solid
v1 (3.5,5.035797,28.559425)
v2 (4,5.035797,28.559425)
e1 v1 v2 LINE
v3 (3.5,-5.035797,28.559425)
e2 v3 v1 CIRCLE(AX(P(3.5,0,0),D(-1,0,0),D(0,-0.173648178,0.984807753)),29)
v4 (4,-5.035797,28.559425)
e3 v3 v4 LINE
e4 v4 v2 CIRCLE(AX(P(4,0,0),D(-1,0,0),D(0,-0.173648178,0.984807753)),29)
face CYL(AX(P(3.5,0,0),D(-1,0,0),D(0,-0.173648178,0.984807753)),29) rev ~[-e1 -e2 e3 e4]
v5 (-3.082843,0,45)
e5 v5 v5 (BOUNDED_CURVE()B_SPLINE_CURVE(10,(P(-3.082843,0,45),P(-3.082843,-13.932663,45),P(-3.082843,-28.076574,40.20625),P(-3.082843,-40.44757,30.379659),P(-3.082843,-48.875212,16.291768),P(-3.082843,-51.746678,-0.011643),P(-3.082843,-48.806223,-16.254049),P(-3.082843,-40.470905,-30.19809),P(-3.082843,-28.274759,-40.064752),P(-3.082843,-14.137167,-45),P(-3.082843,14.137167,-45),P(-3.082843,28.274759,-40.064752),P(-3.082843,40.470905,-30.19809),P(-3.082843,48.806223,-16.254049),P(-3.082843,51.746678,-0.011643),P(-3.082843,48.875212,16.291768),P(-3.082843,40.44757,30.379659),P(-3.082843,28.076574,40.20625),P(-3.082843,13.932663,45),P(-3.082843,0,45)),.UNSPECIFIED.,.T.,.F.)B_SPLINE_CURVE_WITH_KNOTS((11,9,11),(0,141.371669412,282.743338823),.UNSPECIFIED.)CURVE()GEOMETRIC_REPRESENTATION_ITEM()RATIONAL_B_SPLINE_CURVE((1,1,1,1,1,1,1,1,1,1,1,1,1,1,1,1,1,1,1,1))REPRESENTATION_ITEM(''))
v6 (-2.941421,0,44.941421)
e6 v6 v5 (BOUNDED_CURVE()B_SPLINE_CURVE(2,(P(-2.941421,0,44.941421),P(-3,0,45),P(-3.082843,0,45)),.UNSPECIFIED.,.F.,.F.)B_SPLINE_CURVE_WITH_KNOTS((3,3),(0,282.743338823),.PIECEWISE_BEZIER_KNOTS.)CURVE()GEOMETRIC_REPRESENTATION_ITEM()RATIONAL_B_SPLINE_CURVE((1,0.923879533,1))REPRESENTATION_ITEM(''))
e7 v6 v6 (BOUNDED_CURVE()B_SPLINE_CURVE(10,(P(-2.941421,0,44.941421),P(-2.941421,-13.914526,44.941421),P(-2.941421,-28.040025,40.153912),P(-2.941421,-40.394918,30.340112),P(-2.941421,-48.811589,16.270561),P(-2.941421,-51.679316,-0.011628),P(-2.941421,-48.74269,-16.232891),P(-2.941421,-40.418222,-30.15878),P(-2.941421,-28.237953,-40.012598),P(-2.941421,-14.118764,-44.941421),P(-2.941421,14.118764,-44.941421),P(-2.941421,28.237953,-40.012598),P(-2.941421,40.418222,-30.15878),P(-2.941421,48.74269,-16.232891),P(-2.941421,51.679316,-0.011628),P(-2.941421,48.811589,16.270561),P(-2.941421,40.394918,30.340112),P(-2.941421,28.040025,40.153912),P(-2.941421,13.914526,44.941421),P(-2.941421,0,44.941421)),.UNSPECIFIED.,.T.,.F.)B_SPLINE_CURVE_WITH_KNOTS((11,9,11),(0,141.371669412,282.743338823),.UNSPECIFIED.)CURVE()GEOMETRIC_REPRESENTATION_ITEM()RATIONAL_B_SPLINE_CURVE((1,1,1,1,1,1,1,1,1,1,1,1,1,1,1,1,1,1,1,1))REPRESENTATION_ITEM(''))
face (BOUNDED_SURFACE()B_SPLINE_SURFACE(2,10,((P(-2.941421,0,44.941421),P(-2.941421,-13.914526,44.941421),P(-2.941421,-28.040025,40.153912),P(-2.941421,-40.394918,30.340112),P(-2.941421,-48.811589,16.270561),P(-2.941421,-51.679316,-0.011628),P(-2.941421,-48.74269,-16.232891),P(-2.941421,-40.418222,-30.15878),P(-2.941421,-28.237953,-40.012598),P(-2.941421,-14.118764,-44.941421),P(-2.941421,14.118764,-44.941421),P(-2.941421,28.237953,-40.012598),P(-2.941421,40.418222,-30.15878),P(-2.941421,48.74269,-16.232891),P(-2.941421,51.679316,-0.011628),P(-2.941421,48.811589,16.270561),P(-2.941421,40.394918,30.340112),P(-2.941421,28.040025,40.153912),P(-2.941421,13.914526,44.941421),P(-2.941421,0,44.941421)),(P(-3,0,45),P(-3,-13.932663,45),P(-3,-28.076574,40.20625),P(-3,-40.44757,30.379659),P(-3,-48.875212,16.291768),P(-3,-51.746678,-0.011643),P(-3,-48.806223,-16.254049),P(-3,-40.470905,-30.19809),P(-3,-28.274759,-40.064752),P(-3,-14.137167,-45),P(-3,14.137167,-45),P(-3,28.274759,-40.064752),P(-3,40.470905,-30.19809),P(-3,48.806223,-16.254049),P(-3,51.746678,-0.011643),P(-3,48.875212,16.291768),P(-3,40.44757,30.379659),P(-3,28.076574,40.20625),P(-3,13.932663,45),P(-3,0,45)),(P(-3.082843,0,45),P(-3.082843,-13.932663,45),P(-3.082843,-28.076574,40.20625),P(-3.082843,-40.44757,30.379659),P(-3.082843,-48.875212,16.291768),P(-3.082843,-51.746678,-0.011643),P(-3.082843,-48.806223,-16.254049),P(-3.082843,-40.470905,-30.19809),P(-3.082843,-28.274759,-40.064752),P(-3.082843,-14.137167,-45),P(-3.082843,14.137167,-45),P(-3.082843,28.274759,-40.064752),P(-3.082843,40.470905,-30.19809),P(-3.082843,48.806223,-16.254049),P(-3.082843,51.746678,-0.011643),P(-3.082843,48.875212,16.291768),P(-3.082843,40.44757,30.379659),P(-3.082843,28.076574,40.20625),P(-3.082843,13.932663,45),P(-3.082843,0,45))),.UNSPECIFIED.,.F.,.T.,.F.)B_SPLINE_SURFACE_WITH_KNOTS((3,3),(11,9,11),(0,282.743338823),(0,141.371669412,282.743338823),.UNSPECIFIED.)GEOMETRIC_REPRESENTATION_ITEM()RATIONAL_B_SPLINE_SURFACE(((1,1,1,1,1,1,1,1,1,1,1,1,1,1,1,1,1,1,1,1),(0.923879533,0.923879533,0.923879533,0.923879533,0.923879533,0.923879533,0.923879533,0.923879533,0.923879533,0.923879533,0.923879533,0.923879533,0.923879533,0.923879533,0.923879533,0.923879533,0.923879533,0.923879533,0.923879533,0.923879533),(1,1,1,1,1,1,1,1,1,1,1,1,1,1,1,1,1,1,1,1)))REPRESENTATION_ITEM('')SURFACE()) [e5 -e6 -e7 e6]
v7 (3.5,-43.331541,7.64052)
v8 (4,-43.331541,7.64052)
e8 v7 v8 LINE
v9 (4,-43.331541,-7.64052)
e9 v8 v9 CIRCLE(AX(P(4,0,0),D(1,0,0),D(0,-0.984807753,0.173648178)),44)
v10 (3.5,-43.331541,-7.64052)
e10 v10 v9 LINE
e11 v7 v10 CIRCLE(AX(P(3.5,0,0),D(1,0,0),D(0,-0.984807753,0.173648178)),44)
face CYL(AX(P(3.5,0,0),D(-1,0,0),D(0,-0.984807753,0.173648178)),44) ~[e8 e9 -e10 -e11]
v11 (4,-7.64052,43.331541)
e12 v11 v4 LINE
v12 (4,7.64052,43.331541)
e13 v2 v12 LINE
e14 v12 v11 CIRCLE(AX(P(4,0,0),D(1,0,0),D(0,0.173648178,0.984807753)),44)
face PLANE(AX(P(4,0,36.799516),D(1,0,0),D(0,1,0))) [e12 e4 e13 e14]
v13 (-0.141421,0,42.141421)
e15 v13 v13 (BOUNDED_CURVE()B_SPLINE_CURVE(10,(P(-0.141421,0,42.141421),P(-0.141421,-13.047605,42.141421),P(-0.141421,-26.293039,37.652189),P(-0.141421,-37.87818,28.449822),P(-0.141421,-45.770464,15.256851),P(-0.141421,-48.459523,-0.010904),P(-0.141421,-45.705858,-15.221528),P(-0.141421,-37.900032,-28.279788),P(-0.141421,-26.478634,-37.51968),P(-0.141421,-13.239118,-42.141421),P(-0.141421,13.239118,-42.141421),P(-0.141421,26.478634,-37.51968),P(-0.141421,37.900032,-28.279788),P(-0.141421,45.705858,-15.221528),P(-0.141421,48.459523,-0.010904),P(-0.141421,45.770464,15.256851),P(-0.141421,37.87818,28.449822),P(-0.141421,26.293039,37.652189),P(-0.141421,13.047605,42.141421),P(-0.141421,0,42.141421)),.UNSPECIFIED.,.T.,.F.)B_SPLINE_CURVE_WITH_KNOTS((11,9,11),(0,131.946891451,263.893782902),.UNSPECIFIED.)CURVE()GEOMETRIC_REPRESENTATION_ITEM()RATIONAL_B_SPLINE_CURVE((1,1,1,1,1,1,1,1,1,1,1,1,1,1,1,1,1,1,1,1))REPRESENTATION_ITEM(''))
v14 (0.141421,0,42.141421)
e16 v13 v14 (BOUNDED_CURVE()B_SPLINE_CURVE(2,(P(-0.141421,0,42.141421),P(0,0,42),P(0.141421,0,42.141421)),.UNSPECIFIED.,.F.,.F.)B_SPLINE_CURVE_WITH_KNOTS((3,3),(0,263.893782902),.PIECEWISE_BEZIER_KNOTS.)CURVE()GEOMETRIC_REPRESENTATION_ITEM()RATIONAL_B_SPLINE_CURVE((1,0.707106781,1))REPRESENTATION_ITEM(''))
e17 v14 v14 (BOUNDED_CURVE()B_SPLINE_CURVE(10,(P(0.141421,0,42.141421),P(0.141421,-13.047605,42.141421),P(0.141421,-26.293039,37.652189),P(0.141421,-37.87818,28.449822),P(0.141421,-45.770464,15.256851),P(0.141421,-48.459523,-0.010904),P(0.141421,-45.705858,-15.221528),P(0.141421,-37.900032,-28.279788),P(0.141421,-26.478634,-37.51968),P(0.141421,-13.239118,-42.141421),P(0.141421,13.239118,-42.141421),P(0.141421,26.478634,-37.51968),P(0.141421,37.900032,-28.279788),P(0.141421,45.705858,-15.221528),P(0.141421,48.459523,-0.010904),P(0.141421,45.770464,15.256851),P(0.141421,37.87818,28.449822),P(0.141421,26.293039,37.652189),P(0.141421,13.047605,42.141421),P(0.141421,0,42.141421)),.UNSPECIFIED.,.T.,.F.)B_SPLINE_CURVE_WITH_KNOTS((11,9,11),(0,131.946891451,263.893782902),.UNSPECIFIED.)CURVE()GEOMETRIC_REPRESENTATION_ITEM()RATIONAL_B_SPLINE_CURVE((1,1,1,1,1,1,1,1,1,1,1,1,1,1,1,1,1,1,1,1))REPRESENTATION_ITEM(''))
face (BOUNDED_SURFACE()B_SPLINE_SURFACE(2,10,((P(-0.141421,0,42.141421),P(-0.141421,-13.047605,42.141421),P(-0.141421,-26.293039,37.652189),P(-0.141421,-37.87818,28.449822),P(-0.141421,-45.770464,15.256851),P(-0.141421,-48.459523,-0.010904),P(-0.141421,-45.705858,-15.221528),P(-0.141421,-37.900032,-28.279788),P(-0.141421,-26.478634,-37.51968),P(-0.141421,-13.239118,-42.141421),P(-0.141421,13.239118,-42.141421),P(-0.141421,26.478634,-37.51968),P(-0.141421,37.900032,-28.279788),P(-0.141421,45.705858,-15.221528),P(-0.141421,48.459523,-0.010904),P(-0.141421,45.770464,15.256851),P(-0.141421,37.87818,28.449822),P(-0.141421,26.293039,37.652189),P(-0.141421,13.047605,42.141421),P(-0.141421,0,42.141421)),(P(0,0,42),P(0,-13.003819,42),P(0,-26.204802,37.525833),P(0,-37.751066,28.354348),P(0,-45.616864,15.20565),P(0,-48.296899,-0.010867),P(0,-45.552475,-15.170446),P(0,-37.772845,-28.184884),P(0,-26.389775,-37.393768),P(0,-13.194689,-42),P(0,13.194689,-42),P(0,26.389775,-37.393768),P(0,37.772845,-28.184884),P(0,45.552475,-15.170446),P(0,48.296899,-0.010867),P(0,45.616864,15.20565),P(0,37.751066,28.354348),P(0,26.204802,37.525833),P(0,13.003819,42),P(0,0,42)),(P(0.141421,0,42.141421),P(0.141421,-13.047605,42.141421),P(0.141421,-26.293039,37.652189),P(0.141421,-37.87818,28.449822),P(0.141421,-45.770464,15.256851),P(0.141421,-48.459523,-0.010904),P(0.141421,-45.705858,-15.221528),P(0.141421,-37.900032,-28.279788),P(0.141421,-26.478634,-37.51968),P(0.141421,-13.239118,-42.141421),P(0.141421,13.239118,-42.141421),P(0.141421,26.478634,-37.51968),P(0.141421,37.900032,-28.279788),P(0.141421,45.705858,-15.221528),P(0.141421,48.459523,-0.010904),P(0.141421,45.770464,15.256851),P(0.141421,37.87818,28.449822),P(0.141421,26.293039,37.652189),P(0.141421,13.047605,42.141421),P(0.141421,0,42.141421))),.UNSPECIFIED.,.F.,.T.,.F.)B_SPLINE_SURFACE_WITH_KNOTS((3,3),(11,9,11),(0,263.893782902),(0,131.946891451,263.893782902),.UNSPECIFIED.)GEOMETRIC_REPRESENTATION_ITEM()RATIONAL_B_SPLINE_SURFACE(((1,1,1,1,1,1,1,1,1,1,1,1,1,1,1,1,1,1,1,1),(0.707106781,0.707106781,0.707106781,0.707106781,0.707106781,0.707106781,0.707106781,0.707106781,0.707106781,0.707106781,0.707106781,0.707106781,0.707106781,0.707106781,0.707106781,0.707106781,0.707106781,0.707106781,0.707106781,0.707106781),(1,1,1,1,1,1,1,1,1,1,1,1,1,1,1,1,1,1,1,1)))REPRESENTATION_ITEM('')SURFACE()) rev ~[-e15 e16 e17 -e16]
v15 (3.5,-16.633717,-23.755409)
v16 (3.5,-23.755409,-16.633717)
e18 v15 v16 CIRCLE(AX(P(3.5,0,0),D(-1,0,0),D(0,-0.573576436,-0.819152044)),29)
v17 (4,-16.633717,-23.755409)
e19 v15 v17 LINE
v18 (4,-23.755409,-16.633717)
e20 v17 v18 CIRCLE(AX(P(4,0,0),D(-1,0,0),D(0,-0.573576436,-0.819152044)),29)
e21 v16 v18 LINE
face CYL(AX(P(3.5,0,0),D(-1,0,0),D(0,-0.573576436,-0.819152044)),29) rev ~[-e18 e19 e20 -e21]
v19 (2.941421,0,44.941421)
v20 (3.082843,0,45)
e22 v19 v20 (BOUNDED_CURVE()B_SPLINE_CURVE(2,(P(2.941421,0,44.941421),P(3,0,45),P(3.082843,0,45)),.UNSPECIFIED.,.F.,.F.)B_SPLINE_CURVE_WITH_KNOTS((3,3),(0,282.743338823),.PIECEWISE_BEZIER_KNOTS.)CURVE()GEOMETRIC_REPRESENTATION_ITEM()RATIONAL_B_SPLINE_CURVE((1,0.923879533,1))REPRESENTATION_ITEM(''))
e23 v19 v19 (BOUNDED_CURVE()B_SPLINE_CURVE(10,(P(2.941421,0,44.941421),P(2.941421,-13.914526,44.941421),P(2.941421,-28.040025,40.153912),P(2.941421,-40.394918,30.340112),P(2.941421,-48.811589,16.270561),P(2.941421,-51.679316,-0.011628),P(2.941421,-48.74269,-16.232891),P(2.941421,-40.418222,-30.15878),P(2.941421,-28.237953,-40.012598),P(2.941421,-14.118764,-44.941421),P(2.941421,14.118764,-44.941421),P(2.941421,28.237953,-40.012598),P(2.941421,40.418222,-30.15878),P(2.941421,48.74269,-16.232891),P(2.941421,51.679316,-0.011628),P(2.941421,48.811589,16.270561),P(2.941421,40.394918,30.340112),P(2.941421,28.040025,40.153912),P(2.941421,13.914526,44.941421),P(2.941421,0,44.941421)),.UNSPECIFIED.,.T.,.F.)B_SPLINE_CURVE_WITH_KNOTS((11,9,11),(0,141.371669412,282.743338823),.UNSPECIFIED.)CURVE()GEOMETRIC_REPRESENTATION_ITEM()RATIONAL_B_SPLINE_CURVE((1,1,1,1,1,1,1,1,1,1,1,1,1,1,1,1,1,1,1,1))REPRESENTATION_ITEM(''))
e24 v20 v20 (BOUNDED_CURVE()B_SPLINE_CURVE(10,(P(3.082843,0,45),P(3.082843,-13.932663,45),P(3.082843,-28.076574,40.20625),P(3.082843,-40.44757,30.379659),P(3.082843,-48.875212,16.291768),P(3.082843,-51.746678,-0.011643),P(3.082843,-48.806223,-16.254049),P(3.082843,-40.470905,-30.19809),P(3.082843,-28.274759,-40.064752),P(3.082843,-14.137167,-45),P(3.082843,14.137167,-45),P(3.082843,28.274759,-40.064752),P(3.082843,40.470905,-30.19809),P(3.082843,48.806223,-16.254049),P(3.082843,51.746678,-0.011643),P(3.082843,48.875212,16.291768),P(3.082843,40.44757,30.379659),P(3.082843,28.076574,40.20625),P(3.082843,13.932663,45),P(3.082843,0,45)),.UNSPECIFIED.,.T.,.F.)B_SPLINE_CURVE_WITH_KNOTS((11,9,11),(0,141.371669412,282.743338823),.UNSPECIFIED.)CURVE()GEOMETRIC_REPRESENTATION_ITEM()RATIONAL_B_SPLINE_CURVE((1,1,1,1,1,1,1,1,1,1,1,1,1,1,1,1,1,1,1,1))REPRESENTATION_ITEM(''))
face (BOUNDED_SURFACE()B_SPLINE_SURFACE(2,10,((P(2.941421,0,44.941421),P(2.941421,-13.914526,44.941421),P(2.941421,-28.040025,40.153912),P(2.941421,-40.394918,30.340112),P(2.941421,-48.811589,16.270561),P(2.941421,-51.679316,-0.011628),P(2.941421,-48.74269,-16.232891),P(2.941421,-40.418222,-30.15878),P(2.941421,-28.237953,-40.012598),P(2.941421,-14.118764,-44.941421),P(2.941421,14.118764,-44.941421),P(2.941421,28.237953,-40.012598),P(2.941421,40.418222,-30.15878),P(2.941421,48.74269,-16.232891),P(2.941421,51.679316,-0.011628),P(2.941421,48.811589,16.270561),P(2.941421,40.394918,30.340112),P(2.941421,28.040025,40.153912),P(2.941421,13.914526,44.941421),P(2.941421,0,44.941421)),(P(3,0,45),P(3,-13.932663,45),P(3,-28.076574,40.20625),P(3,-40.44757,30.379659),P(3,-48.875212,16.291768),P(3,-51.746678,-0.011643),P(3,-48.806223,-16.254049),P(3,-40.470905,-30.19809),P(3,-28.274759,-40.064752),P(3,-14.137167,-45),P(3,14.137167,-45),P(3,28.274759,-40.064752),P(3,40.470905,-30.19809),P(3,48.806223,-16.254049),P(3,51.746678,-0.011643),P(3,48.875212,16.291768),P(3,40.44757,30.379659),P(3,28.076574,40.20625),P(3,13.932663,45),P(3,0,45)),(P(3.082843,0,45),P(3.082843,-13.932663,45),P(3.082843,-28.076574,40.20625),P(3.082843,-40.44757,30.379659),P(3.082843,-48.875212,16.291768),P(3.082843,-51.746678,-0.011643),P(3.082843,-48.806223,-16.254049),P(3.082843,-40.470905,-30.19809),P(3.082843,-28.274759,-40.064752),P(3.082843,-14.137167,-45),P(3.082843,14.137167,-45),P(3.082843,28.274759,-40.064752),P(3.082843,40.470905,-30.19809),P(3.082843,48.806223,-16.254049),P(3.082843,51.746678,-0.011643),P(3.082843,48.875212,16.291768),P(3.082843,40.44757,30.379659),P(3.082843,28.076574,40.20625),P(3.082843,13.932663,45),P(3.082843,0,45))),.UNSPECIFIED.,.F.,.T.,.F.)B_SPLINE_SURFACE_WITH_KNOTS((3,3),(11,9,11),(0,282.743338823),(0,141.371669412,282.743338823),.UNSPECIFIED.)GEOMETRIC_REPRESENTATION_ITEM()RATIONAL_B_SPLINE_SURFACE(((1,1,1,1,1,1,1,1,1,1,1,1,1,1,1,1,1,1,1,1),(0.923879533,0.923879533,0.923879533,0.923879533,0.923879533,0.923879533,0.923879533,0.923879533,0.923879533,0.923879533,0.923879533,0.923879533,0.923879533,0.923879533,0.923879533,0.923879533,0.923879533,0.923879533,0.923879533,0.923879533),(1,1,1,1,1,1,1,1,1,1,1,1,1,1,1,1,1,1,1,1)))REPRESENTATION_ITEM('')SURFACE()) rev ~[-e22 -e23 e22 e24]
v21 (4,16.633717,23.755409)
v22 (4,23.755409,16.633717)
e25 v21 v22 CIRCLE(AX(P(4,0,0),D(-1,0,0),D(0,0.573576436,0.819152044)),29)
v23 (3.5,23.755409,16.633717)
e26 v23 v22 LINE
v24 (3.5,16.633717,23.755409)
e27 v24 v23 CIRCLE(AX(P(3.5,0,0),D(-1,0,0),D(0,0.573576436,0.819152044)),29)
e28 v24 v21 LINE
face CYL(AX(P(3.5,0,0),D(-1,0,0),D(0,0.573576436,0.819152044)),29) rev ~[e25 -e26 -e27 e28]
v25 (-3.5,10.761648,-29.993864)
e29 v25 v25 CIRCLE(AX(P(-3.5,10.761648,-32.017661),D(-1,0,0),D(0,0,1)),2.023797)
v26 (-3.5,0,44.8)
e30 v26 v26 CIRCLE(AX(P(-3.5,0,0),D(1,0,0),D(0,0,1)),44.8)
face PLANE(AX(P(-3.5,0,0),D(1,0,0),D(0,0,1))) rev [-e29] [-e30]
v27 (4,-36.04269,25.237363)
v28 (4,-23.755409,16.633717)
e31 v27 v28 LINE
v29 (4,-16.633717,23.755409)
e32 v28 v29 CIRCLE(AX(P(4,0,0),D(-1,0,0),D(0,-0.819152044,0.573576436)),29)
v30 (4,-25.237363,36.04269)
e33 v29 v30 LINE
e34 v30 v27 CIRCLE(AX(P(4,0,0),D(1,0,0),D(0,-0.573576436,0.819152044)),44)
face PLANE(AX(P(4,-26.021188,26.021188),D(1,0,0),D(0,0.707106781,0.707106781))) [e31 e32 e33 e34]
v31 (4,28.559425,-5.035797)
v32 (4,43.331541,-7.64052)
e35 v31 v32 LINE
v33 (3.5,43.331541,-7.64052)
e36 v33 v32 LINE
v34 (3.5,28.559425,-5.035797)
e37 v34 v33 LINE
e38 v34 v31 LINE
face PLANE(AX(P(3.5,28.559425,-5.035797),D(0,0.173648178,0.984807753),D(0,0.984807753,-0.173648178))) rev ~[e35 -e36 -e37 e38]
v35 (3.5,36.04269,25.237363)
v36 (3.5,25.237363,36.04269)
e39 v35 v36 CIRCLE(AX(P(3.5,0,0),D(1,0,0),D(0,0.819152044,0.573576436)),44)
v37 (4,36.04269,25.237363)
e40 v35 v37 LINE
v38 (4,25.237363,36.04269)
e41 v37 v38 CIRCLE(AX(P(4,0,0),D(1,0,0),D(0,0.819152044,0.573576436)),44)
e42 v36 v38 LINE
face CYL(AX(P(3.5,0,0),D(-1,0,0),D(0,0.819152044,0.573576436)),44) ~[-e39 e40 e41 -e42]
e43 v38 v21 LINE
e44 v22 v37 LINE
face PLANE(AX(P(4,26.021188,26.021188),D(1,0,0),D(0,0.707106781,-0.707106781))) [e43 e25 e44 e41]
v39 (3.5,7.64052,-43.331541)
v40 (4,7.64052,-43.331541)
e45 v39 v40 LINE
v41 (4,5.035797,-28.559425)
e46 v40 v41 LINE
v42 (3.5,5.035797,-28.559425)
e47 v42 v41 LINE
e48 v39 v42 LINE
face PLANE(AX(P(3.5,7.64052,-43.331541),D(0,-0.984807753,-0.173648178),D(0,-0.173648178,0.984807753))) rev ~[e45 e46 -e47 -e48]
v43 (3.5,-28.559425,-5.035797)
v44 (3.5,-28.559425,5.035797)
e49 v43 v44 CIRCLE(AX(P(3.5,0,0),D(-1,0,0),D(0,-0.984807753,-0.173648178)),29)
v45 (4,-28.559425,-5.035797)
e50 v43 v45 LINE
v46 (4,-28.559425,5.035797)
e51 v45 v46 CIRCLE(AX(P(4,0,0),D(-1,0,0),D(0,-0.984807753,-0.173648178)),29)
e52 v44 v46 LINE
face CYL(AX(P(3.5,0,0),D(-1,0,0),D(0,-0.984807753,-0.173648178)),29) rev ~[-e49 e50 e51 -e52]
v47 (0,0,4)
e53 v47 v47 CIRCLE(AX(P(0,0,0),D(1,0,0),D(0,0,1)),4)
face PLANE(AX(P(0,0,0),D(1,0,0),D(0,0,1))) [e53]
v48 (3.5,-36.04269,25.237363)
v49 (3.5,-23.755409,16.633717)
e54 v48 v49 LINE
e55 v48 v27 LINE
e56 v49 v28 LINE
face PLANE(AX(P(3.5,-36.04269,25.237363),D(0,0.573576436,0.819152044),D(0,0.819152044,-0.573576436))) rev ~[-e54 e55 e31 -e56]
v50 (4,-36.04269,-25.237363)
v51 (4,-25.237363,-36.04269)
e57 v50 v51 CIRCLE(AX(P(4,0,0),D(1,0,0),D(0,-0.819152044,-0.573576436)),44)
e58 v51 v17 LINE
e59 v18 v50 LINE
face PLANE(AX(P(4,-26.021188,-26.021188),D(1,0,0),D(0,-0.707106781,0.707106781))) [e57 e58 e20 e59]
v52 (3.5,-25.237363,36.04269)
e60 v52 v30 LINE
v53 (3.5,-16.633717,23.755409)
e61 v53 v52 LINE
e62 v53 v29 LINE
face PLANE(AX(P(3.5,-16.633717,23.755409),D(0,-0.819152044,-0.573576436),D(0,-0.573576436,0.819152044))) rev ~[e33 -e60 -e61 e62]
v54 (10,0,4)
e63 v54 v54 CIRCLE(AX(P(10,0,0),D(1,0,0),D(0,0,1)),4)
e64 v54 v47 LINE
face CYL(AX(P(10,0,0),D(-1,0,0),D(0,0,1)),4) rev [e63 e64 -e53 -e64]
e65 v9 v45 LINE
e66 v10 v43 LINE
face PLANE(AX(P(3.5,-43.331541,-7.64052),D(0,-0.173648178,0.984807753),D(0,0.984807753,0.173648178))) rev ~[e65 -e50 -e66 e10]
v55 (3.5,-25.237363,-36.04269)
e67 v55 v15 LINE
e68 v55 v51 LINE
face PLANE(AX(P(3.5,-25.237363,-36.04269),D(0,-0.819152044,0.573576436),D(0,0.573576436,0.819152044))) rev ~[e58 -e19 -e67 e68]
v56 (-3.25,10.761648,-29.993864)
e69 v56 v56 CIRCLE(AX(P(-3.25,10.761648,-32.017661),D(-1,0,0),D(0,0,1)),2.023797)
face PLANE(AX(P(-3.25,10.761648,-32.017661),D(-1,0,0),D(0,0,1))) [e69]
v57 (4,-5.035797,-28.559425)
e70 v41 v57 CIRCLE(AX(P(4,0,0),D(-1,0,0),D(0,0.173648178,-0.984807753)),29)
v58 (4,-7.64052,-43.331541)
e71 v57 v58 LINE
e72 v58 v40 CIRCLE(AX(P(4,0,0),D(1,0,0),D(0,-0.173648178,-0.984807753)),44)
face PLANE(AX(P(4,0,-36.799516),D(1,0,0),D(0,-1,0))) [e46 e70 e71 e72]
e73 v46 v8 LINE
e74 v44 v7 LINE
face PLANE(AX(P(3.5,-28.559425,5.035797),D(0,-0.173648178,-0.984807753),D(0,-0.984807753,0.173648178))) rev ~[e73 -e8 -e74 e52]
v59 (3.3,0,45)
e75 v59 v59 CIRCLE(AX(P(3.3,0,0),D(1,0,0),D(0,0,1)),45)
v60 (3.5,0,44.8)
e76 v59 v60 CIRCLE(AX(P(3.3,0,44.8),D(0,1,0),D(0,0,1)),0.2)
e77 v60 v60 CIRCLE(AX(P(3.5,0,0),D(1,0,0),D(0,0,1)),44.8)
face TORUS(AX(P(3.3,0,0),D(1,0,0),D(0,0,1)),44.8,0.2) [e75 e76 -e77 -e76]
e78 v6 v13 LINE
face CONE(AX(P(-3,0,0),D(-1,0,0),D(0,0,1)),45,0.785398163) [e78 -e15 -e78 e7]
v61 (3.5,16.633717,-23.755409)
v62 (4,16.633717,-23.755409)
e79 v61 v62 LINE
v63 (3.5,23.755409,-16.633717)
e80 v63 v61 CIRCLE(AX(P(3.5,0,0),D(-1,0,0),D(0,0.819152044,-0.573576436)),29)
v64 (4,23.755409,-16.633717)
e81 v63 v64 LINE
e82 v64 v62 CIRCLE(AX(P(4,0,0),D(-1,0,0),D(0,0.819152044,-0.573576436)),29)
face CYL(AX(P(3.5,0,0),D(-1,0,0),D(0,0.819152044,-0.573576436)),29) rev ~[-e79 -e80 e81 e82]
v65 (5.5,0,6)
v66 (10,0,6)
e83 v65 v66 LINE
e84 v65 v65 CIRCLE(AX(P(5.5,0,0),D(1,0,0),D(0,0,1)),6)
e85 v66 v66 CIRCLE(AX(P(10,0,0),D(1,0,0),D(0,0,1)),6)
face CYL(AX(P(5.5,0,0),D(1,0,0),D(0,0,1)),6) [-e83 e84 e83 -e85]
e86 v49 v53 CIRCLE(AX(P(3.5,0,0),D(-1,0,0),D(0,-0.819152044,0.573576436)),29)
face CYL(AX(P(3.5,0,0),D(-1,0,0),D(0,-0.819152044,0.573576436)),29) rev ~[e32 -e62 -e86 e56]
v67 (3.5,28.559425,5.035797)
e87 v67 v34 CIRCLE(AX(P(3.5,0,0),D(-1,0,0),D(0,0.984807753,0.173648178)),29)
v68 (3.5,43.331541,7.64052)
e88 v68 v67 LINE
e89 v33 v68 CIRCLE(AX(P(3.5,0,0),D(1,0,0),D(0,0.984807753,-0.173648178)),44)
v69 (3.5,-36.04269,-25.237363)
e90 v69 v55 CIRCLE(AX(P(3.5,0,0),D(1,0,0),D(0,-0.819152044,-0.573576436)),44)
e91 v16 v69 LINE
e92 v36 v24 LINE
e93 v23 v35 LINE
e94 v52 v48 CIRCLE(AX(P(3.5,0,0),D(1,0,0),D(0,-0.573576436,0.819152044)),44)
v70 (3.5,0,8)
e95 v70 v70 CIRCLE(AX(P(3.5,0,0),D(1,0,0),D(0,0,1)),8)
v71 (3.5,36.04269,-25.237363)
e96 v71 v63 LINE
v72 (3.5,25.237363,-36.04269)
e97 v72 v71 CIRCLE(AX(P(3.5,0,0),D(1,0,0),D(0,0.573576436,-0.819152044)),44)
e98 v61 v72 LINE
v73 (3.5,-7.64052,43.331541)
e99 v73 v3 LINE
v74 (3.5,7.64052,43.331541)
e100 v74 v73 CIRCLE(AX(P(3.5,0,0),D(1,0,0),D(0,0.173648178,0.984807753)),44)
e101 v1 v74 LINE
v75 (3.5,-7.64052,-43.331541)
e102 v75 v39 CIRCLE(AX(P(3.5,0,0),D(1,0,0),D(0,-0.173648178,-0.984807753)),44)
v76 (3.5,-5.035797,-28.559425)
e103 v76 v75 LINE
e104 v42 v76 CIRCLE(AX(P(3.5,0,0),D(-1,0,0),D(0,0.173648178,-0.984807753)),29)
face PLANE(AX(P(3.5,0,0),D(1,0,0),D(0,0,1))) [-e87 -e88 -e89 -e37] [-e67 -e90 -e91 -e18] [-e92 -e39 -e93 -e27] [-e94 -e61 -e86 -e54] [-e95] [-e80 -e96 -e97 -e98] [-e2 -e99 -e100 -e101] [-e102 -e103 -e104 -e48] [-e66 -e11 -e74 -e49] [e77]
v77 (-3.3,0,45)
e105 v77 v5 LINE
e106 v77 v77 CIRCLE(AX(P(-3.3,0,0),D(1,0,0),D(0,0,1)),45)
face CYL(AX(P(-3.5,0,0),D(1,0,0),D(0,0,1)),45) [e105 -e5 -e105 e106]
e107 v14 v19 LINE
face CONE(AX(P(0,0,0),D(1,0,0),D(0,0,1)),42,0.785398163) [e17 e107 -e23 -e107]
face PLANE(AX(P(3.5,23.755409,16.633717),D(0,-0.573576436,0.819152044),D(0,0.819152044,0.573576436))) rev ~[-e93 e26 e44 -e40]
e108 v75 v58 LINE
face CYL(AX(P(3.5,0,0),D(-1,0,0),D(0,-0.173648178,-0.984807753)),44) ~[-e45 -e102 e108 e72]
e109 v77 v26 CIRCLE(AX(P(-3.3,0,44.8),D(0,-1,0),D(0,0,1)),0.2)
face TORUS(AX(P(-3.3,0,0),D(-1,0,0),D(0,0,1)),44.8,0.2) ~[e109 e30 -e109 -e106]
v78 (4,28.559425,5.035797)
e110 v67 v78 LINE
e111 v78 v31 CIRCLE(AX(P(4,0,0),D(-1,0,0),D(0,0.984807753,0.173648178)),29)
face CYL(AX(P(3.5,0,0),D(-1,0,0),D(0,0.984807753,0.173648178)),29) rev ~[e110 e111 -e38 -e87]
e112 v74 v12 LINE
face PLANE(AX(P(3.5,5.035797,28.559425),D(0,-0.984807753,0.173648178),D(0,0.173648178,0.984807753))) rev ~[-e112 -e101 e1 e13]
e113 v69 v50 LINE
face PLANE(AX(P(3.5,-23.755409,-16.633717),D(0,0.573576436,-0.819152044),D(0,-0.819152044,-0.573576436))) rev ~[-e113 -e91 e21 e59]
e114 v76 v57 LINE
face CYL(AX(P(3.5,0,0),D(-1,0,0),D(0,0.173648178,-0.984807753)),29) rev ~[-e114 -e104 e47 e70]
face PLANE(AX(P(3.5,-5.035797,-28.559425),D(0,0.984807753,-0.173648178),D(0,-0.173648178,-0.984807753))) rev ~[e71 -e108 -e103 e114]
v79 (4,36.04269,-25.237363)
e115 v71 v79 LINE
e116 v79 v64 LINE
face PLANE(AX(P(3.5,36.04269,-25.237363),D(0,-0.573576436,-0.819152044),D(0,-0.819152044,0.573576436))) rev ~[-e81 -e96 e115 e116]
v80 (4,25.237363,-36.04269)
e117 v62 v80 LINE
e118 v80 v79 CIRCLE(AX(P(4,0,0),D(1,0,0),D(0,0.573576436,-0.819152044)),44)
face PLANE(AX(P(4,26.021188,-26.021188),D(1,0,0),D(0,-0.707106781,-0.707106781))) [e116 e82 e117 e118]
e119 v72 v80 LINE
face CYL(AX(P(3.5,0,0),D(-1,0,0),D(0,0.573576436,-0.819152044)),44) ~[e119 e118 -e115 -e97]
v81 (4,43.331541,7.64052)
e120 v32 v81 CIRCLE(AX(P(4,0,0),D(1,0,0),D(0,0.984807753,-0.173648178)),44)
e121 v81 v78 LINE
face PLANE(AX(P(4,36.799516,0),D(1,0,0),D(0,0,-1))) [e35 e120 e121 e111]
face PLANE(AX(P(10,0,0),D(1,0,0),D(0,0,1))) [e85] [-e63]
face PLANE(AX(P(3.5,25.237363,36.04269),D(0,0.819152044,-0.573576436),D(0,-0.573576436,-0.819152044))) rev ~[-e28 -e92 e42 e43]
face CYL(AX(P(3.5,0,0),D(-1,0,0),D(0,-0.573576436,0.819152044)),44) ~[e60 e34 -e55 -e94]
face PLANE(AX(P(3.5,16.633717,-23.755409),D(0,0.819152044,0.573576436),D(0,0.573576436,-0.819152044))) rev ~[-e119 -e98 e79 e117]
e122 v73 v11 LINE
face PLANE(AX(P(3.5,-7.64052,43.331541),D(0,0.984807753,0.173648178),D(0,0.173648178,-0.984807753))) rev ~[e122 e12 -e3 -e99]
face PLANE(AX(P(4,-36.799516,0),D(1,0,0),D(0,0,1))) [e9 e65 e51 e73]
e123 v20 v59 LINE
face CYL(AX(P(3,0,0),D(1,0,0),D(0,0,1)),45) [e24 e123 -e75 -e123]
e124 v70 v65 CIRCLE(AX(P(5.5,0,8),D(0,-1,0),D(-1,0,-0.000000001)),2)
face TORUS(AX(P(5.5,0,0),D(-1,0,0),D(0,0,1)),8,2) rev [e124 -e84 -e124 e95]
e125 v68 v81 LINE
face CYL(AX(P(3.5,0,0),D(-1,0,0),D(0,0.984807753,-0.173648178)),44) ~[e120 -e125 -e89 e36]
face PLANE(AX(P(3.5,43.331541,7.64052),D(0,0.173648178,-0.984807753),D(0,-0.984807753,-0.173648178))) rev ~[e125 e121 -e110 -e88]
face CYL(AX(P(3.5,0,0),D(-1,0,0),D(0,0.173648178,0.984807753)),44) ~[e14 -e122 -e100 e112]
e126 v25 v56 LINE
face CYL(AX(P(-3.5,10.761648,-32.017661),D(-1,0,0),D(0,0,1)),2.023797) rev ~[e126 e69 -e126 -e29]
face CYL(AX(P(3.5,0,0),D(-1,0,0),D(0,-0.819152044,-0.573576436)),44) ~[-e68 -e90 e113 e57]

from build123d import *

# Parameters (mm, degrees)
EXTRUSION1_DEPTH             = 0.5
R_P_TITION_CIRCULAIRE1_COUNT = 8
CONG_1_R                     = 0.2
ESQUISSE3_R                  = 2.023797345
ENL_V_MAT_EXTRU_1_DEPTH      = 0.25


with BuildPart() as part:
    # Esquisse1 → Révolution2 (revolve)
    with BuildSketch(Plane.XY, mode=Mode.PRIVATE) as r_volution2_sk:
        with BuildLine():
            Line((-3, 45), (0, 42))
            Line((0, 42), (3, 45))
            Line((3, 45), (3.5, 45))
            Line((3.5, 45), (3.5, 8))
            ThreePointArc((3.5, 8), (4.085786438, 6.585786438), (5.5, 6))
            Line((5.5, 6), (10, 6))
            Line((10, 6), (10, 4))
            Line((10, 4), (0, 4))
            Line((0, 4), (0, 0))
            Line((0, 0), (-3.5, 0))
            Line((-3.5, 0), (-3.5, 45))
            Line((-3.5, 45), (-3, 45))
        make_face()
    revolve(r_volution2_sk.sketch.rotate(Axis((0, 0, 0), (1, 0, 0)), 90), axis=Axis((0, 0, 0), (1, 0, 0)))

    # Esquisse2 → Extrusion1 (add)
    with BuildSketch(Plane(origin=(3.5, 0, 0), x_dir=(0, 0, -1), z_dir=(1, 0, 0))):
        with BuildLine():
            Line((5.035797152, 28.559424837), (7.640519817, 43.331541133))
            ThreePointArc((7.640519817, 43.331541133), (0, 44), (-7.640519817, 43.331541133))
            Line((-7.640519817, 43.331541133), (-5.035797152, 28.559424837))
            ThreePointArc((-5.035797152, 28.559424837), (0, 29), (5.035797152, 28.559424837))
        make_face()
    extrusion1 = extrude(amount=EXTRUSION1_DEPTH)

    # Répétition circulaire1: Extrusion1 ×8 about axis
    r_p_tition_circulaire1_axis = Axis((0, 0, 0), (1, 0, 0))
    for i in range(1, R_P_TITION_CIRCULAIRE1_COUNT):
        add(extrusion1.rotate(r_p_tition_circulaire1_axis, i * 360 / R_P_TITION_CIRCULAIRE1_COUNT))

    # Congé1
    cong_1_edges = [part.edges().sort_by_distance(p)[0] for p in [
        (-3, 0, -45),
        (0, 0, -42),
        (-3.5, 0, -45),
        (3, 0, -45),
        (3.5, 0, -45),
    ]]
    fillet(cong_1_edges, radius=CONG_1_R)

    # Esquisse3 → Enlèv. mat.-Extru.1 (cut)
    with BuildSketch(Plane.ZY.offset(3.5)):
        with Locations((-32.017661382, 10.761647975)):
            Circle(ESQUISSE3_R)
    extrude(amount=-ENL_V_MAT_EXTRU_1_DEPTH, mode=Mode.SUBTRACT)


solid = part.part
